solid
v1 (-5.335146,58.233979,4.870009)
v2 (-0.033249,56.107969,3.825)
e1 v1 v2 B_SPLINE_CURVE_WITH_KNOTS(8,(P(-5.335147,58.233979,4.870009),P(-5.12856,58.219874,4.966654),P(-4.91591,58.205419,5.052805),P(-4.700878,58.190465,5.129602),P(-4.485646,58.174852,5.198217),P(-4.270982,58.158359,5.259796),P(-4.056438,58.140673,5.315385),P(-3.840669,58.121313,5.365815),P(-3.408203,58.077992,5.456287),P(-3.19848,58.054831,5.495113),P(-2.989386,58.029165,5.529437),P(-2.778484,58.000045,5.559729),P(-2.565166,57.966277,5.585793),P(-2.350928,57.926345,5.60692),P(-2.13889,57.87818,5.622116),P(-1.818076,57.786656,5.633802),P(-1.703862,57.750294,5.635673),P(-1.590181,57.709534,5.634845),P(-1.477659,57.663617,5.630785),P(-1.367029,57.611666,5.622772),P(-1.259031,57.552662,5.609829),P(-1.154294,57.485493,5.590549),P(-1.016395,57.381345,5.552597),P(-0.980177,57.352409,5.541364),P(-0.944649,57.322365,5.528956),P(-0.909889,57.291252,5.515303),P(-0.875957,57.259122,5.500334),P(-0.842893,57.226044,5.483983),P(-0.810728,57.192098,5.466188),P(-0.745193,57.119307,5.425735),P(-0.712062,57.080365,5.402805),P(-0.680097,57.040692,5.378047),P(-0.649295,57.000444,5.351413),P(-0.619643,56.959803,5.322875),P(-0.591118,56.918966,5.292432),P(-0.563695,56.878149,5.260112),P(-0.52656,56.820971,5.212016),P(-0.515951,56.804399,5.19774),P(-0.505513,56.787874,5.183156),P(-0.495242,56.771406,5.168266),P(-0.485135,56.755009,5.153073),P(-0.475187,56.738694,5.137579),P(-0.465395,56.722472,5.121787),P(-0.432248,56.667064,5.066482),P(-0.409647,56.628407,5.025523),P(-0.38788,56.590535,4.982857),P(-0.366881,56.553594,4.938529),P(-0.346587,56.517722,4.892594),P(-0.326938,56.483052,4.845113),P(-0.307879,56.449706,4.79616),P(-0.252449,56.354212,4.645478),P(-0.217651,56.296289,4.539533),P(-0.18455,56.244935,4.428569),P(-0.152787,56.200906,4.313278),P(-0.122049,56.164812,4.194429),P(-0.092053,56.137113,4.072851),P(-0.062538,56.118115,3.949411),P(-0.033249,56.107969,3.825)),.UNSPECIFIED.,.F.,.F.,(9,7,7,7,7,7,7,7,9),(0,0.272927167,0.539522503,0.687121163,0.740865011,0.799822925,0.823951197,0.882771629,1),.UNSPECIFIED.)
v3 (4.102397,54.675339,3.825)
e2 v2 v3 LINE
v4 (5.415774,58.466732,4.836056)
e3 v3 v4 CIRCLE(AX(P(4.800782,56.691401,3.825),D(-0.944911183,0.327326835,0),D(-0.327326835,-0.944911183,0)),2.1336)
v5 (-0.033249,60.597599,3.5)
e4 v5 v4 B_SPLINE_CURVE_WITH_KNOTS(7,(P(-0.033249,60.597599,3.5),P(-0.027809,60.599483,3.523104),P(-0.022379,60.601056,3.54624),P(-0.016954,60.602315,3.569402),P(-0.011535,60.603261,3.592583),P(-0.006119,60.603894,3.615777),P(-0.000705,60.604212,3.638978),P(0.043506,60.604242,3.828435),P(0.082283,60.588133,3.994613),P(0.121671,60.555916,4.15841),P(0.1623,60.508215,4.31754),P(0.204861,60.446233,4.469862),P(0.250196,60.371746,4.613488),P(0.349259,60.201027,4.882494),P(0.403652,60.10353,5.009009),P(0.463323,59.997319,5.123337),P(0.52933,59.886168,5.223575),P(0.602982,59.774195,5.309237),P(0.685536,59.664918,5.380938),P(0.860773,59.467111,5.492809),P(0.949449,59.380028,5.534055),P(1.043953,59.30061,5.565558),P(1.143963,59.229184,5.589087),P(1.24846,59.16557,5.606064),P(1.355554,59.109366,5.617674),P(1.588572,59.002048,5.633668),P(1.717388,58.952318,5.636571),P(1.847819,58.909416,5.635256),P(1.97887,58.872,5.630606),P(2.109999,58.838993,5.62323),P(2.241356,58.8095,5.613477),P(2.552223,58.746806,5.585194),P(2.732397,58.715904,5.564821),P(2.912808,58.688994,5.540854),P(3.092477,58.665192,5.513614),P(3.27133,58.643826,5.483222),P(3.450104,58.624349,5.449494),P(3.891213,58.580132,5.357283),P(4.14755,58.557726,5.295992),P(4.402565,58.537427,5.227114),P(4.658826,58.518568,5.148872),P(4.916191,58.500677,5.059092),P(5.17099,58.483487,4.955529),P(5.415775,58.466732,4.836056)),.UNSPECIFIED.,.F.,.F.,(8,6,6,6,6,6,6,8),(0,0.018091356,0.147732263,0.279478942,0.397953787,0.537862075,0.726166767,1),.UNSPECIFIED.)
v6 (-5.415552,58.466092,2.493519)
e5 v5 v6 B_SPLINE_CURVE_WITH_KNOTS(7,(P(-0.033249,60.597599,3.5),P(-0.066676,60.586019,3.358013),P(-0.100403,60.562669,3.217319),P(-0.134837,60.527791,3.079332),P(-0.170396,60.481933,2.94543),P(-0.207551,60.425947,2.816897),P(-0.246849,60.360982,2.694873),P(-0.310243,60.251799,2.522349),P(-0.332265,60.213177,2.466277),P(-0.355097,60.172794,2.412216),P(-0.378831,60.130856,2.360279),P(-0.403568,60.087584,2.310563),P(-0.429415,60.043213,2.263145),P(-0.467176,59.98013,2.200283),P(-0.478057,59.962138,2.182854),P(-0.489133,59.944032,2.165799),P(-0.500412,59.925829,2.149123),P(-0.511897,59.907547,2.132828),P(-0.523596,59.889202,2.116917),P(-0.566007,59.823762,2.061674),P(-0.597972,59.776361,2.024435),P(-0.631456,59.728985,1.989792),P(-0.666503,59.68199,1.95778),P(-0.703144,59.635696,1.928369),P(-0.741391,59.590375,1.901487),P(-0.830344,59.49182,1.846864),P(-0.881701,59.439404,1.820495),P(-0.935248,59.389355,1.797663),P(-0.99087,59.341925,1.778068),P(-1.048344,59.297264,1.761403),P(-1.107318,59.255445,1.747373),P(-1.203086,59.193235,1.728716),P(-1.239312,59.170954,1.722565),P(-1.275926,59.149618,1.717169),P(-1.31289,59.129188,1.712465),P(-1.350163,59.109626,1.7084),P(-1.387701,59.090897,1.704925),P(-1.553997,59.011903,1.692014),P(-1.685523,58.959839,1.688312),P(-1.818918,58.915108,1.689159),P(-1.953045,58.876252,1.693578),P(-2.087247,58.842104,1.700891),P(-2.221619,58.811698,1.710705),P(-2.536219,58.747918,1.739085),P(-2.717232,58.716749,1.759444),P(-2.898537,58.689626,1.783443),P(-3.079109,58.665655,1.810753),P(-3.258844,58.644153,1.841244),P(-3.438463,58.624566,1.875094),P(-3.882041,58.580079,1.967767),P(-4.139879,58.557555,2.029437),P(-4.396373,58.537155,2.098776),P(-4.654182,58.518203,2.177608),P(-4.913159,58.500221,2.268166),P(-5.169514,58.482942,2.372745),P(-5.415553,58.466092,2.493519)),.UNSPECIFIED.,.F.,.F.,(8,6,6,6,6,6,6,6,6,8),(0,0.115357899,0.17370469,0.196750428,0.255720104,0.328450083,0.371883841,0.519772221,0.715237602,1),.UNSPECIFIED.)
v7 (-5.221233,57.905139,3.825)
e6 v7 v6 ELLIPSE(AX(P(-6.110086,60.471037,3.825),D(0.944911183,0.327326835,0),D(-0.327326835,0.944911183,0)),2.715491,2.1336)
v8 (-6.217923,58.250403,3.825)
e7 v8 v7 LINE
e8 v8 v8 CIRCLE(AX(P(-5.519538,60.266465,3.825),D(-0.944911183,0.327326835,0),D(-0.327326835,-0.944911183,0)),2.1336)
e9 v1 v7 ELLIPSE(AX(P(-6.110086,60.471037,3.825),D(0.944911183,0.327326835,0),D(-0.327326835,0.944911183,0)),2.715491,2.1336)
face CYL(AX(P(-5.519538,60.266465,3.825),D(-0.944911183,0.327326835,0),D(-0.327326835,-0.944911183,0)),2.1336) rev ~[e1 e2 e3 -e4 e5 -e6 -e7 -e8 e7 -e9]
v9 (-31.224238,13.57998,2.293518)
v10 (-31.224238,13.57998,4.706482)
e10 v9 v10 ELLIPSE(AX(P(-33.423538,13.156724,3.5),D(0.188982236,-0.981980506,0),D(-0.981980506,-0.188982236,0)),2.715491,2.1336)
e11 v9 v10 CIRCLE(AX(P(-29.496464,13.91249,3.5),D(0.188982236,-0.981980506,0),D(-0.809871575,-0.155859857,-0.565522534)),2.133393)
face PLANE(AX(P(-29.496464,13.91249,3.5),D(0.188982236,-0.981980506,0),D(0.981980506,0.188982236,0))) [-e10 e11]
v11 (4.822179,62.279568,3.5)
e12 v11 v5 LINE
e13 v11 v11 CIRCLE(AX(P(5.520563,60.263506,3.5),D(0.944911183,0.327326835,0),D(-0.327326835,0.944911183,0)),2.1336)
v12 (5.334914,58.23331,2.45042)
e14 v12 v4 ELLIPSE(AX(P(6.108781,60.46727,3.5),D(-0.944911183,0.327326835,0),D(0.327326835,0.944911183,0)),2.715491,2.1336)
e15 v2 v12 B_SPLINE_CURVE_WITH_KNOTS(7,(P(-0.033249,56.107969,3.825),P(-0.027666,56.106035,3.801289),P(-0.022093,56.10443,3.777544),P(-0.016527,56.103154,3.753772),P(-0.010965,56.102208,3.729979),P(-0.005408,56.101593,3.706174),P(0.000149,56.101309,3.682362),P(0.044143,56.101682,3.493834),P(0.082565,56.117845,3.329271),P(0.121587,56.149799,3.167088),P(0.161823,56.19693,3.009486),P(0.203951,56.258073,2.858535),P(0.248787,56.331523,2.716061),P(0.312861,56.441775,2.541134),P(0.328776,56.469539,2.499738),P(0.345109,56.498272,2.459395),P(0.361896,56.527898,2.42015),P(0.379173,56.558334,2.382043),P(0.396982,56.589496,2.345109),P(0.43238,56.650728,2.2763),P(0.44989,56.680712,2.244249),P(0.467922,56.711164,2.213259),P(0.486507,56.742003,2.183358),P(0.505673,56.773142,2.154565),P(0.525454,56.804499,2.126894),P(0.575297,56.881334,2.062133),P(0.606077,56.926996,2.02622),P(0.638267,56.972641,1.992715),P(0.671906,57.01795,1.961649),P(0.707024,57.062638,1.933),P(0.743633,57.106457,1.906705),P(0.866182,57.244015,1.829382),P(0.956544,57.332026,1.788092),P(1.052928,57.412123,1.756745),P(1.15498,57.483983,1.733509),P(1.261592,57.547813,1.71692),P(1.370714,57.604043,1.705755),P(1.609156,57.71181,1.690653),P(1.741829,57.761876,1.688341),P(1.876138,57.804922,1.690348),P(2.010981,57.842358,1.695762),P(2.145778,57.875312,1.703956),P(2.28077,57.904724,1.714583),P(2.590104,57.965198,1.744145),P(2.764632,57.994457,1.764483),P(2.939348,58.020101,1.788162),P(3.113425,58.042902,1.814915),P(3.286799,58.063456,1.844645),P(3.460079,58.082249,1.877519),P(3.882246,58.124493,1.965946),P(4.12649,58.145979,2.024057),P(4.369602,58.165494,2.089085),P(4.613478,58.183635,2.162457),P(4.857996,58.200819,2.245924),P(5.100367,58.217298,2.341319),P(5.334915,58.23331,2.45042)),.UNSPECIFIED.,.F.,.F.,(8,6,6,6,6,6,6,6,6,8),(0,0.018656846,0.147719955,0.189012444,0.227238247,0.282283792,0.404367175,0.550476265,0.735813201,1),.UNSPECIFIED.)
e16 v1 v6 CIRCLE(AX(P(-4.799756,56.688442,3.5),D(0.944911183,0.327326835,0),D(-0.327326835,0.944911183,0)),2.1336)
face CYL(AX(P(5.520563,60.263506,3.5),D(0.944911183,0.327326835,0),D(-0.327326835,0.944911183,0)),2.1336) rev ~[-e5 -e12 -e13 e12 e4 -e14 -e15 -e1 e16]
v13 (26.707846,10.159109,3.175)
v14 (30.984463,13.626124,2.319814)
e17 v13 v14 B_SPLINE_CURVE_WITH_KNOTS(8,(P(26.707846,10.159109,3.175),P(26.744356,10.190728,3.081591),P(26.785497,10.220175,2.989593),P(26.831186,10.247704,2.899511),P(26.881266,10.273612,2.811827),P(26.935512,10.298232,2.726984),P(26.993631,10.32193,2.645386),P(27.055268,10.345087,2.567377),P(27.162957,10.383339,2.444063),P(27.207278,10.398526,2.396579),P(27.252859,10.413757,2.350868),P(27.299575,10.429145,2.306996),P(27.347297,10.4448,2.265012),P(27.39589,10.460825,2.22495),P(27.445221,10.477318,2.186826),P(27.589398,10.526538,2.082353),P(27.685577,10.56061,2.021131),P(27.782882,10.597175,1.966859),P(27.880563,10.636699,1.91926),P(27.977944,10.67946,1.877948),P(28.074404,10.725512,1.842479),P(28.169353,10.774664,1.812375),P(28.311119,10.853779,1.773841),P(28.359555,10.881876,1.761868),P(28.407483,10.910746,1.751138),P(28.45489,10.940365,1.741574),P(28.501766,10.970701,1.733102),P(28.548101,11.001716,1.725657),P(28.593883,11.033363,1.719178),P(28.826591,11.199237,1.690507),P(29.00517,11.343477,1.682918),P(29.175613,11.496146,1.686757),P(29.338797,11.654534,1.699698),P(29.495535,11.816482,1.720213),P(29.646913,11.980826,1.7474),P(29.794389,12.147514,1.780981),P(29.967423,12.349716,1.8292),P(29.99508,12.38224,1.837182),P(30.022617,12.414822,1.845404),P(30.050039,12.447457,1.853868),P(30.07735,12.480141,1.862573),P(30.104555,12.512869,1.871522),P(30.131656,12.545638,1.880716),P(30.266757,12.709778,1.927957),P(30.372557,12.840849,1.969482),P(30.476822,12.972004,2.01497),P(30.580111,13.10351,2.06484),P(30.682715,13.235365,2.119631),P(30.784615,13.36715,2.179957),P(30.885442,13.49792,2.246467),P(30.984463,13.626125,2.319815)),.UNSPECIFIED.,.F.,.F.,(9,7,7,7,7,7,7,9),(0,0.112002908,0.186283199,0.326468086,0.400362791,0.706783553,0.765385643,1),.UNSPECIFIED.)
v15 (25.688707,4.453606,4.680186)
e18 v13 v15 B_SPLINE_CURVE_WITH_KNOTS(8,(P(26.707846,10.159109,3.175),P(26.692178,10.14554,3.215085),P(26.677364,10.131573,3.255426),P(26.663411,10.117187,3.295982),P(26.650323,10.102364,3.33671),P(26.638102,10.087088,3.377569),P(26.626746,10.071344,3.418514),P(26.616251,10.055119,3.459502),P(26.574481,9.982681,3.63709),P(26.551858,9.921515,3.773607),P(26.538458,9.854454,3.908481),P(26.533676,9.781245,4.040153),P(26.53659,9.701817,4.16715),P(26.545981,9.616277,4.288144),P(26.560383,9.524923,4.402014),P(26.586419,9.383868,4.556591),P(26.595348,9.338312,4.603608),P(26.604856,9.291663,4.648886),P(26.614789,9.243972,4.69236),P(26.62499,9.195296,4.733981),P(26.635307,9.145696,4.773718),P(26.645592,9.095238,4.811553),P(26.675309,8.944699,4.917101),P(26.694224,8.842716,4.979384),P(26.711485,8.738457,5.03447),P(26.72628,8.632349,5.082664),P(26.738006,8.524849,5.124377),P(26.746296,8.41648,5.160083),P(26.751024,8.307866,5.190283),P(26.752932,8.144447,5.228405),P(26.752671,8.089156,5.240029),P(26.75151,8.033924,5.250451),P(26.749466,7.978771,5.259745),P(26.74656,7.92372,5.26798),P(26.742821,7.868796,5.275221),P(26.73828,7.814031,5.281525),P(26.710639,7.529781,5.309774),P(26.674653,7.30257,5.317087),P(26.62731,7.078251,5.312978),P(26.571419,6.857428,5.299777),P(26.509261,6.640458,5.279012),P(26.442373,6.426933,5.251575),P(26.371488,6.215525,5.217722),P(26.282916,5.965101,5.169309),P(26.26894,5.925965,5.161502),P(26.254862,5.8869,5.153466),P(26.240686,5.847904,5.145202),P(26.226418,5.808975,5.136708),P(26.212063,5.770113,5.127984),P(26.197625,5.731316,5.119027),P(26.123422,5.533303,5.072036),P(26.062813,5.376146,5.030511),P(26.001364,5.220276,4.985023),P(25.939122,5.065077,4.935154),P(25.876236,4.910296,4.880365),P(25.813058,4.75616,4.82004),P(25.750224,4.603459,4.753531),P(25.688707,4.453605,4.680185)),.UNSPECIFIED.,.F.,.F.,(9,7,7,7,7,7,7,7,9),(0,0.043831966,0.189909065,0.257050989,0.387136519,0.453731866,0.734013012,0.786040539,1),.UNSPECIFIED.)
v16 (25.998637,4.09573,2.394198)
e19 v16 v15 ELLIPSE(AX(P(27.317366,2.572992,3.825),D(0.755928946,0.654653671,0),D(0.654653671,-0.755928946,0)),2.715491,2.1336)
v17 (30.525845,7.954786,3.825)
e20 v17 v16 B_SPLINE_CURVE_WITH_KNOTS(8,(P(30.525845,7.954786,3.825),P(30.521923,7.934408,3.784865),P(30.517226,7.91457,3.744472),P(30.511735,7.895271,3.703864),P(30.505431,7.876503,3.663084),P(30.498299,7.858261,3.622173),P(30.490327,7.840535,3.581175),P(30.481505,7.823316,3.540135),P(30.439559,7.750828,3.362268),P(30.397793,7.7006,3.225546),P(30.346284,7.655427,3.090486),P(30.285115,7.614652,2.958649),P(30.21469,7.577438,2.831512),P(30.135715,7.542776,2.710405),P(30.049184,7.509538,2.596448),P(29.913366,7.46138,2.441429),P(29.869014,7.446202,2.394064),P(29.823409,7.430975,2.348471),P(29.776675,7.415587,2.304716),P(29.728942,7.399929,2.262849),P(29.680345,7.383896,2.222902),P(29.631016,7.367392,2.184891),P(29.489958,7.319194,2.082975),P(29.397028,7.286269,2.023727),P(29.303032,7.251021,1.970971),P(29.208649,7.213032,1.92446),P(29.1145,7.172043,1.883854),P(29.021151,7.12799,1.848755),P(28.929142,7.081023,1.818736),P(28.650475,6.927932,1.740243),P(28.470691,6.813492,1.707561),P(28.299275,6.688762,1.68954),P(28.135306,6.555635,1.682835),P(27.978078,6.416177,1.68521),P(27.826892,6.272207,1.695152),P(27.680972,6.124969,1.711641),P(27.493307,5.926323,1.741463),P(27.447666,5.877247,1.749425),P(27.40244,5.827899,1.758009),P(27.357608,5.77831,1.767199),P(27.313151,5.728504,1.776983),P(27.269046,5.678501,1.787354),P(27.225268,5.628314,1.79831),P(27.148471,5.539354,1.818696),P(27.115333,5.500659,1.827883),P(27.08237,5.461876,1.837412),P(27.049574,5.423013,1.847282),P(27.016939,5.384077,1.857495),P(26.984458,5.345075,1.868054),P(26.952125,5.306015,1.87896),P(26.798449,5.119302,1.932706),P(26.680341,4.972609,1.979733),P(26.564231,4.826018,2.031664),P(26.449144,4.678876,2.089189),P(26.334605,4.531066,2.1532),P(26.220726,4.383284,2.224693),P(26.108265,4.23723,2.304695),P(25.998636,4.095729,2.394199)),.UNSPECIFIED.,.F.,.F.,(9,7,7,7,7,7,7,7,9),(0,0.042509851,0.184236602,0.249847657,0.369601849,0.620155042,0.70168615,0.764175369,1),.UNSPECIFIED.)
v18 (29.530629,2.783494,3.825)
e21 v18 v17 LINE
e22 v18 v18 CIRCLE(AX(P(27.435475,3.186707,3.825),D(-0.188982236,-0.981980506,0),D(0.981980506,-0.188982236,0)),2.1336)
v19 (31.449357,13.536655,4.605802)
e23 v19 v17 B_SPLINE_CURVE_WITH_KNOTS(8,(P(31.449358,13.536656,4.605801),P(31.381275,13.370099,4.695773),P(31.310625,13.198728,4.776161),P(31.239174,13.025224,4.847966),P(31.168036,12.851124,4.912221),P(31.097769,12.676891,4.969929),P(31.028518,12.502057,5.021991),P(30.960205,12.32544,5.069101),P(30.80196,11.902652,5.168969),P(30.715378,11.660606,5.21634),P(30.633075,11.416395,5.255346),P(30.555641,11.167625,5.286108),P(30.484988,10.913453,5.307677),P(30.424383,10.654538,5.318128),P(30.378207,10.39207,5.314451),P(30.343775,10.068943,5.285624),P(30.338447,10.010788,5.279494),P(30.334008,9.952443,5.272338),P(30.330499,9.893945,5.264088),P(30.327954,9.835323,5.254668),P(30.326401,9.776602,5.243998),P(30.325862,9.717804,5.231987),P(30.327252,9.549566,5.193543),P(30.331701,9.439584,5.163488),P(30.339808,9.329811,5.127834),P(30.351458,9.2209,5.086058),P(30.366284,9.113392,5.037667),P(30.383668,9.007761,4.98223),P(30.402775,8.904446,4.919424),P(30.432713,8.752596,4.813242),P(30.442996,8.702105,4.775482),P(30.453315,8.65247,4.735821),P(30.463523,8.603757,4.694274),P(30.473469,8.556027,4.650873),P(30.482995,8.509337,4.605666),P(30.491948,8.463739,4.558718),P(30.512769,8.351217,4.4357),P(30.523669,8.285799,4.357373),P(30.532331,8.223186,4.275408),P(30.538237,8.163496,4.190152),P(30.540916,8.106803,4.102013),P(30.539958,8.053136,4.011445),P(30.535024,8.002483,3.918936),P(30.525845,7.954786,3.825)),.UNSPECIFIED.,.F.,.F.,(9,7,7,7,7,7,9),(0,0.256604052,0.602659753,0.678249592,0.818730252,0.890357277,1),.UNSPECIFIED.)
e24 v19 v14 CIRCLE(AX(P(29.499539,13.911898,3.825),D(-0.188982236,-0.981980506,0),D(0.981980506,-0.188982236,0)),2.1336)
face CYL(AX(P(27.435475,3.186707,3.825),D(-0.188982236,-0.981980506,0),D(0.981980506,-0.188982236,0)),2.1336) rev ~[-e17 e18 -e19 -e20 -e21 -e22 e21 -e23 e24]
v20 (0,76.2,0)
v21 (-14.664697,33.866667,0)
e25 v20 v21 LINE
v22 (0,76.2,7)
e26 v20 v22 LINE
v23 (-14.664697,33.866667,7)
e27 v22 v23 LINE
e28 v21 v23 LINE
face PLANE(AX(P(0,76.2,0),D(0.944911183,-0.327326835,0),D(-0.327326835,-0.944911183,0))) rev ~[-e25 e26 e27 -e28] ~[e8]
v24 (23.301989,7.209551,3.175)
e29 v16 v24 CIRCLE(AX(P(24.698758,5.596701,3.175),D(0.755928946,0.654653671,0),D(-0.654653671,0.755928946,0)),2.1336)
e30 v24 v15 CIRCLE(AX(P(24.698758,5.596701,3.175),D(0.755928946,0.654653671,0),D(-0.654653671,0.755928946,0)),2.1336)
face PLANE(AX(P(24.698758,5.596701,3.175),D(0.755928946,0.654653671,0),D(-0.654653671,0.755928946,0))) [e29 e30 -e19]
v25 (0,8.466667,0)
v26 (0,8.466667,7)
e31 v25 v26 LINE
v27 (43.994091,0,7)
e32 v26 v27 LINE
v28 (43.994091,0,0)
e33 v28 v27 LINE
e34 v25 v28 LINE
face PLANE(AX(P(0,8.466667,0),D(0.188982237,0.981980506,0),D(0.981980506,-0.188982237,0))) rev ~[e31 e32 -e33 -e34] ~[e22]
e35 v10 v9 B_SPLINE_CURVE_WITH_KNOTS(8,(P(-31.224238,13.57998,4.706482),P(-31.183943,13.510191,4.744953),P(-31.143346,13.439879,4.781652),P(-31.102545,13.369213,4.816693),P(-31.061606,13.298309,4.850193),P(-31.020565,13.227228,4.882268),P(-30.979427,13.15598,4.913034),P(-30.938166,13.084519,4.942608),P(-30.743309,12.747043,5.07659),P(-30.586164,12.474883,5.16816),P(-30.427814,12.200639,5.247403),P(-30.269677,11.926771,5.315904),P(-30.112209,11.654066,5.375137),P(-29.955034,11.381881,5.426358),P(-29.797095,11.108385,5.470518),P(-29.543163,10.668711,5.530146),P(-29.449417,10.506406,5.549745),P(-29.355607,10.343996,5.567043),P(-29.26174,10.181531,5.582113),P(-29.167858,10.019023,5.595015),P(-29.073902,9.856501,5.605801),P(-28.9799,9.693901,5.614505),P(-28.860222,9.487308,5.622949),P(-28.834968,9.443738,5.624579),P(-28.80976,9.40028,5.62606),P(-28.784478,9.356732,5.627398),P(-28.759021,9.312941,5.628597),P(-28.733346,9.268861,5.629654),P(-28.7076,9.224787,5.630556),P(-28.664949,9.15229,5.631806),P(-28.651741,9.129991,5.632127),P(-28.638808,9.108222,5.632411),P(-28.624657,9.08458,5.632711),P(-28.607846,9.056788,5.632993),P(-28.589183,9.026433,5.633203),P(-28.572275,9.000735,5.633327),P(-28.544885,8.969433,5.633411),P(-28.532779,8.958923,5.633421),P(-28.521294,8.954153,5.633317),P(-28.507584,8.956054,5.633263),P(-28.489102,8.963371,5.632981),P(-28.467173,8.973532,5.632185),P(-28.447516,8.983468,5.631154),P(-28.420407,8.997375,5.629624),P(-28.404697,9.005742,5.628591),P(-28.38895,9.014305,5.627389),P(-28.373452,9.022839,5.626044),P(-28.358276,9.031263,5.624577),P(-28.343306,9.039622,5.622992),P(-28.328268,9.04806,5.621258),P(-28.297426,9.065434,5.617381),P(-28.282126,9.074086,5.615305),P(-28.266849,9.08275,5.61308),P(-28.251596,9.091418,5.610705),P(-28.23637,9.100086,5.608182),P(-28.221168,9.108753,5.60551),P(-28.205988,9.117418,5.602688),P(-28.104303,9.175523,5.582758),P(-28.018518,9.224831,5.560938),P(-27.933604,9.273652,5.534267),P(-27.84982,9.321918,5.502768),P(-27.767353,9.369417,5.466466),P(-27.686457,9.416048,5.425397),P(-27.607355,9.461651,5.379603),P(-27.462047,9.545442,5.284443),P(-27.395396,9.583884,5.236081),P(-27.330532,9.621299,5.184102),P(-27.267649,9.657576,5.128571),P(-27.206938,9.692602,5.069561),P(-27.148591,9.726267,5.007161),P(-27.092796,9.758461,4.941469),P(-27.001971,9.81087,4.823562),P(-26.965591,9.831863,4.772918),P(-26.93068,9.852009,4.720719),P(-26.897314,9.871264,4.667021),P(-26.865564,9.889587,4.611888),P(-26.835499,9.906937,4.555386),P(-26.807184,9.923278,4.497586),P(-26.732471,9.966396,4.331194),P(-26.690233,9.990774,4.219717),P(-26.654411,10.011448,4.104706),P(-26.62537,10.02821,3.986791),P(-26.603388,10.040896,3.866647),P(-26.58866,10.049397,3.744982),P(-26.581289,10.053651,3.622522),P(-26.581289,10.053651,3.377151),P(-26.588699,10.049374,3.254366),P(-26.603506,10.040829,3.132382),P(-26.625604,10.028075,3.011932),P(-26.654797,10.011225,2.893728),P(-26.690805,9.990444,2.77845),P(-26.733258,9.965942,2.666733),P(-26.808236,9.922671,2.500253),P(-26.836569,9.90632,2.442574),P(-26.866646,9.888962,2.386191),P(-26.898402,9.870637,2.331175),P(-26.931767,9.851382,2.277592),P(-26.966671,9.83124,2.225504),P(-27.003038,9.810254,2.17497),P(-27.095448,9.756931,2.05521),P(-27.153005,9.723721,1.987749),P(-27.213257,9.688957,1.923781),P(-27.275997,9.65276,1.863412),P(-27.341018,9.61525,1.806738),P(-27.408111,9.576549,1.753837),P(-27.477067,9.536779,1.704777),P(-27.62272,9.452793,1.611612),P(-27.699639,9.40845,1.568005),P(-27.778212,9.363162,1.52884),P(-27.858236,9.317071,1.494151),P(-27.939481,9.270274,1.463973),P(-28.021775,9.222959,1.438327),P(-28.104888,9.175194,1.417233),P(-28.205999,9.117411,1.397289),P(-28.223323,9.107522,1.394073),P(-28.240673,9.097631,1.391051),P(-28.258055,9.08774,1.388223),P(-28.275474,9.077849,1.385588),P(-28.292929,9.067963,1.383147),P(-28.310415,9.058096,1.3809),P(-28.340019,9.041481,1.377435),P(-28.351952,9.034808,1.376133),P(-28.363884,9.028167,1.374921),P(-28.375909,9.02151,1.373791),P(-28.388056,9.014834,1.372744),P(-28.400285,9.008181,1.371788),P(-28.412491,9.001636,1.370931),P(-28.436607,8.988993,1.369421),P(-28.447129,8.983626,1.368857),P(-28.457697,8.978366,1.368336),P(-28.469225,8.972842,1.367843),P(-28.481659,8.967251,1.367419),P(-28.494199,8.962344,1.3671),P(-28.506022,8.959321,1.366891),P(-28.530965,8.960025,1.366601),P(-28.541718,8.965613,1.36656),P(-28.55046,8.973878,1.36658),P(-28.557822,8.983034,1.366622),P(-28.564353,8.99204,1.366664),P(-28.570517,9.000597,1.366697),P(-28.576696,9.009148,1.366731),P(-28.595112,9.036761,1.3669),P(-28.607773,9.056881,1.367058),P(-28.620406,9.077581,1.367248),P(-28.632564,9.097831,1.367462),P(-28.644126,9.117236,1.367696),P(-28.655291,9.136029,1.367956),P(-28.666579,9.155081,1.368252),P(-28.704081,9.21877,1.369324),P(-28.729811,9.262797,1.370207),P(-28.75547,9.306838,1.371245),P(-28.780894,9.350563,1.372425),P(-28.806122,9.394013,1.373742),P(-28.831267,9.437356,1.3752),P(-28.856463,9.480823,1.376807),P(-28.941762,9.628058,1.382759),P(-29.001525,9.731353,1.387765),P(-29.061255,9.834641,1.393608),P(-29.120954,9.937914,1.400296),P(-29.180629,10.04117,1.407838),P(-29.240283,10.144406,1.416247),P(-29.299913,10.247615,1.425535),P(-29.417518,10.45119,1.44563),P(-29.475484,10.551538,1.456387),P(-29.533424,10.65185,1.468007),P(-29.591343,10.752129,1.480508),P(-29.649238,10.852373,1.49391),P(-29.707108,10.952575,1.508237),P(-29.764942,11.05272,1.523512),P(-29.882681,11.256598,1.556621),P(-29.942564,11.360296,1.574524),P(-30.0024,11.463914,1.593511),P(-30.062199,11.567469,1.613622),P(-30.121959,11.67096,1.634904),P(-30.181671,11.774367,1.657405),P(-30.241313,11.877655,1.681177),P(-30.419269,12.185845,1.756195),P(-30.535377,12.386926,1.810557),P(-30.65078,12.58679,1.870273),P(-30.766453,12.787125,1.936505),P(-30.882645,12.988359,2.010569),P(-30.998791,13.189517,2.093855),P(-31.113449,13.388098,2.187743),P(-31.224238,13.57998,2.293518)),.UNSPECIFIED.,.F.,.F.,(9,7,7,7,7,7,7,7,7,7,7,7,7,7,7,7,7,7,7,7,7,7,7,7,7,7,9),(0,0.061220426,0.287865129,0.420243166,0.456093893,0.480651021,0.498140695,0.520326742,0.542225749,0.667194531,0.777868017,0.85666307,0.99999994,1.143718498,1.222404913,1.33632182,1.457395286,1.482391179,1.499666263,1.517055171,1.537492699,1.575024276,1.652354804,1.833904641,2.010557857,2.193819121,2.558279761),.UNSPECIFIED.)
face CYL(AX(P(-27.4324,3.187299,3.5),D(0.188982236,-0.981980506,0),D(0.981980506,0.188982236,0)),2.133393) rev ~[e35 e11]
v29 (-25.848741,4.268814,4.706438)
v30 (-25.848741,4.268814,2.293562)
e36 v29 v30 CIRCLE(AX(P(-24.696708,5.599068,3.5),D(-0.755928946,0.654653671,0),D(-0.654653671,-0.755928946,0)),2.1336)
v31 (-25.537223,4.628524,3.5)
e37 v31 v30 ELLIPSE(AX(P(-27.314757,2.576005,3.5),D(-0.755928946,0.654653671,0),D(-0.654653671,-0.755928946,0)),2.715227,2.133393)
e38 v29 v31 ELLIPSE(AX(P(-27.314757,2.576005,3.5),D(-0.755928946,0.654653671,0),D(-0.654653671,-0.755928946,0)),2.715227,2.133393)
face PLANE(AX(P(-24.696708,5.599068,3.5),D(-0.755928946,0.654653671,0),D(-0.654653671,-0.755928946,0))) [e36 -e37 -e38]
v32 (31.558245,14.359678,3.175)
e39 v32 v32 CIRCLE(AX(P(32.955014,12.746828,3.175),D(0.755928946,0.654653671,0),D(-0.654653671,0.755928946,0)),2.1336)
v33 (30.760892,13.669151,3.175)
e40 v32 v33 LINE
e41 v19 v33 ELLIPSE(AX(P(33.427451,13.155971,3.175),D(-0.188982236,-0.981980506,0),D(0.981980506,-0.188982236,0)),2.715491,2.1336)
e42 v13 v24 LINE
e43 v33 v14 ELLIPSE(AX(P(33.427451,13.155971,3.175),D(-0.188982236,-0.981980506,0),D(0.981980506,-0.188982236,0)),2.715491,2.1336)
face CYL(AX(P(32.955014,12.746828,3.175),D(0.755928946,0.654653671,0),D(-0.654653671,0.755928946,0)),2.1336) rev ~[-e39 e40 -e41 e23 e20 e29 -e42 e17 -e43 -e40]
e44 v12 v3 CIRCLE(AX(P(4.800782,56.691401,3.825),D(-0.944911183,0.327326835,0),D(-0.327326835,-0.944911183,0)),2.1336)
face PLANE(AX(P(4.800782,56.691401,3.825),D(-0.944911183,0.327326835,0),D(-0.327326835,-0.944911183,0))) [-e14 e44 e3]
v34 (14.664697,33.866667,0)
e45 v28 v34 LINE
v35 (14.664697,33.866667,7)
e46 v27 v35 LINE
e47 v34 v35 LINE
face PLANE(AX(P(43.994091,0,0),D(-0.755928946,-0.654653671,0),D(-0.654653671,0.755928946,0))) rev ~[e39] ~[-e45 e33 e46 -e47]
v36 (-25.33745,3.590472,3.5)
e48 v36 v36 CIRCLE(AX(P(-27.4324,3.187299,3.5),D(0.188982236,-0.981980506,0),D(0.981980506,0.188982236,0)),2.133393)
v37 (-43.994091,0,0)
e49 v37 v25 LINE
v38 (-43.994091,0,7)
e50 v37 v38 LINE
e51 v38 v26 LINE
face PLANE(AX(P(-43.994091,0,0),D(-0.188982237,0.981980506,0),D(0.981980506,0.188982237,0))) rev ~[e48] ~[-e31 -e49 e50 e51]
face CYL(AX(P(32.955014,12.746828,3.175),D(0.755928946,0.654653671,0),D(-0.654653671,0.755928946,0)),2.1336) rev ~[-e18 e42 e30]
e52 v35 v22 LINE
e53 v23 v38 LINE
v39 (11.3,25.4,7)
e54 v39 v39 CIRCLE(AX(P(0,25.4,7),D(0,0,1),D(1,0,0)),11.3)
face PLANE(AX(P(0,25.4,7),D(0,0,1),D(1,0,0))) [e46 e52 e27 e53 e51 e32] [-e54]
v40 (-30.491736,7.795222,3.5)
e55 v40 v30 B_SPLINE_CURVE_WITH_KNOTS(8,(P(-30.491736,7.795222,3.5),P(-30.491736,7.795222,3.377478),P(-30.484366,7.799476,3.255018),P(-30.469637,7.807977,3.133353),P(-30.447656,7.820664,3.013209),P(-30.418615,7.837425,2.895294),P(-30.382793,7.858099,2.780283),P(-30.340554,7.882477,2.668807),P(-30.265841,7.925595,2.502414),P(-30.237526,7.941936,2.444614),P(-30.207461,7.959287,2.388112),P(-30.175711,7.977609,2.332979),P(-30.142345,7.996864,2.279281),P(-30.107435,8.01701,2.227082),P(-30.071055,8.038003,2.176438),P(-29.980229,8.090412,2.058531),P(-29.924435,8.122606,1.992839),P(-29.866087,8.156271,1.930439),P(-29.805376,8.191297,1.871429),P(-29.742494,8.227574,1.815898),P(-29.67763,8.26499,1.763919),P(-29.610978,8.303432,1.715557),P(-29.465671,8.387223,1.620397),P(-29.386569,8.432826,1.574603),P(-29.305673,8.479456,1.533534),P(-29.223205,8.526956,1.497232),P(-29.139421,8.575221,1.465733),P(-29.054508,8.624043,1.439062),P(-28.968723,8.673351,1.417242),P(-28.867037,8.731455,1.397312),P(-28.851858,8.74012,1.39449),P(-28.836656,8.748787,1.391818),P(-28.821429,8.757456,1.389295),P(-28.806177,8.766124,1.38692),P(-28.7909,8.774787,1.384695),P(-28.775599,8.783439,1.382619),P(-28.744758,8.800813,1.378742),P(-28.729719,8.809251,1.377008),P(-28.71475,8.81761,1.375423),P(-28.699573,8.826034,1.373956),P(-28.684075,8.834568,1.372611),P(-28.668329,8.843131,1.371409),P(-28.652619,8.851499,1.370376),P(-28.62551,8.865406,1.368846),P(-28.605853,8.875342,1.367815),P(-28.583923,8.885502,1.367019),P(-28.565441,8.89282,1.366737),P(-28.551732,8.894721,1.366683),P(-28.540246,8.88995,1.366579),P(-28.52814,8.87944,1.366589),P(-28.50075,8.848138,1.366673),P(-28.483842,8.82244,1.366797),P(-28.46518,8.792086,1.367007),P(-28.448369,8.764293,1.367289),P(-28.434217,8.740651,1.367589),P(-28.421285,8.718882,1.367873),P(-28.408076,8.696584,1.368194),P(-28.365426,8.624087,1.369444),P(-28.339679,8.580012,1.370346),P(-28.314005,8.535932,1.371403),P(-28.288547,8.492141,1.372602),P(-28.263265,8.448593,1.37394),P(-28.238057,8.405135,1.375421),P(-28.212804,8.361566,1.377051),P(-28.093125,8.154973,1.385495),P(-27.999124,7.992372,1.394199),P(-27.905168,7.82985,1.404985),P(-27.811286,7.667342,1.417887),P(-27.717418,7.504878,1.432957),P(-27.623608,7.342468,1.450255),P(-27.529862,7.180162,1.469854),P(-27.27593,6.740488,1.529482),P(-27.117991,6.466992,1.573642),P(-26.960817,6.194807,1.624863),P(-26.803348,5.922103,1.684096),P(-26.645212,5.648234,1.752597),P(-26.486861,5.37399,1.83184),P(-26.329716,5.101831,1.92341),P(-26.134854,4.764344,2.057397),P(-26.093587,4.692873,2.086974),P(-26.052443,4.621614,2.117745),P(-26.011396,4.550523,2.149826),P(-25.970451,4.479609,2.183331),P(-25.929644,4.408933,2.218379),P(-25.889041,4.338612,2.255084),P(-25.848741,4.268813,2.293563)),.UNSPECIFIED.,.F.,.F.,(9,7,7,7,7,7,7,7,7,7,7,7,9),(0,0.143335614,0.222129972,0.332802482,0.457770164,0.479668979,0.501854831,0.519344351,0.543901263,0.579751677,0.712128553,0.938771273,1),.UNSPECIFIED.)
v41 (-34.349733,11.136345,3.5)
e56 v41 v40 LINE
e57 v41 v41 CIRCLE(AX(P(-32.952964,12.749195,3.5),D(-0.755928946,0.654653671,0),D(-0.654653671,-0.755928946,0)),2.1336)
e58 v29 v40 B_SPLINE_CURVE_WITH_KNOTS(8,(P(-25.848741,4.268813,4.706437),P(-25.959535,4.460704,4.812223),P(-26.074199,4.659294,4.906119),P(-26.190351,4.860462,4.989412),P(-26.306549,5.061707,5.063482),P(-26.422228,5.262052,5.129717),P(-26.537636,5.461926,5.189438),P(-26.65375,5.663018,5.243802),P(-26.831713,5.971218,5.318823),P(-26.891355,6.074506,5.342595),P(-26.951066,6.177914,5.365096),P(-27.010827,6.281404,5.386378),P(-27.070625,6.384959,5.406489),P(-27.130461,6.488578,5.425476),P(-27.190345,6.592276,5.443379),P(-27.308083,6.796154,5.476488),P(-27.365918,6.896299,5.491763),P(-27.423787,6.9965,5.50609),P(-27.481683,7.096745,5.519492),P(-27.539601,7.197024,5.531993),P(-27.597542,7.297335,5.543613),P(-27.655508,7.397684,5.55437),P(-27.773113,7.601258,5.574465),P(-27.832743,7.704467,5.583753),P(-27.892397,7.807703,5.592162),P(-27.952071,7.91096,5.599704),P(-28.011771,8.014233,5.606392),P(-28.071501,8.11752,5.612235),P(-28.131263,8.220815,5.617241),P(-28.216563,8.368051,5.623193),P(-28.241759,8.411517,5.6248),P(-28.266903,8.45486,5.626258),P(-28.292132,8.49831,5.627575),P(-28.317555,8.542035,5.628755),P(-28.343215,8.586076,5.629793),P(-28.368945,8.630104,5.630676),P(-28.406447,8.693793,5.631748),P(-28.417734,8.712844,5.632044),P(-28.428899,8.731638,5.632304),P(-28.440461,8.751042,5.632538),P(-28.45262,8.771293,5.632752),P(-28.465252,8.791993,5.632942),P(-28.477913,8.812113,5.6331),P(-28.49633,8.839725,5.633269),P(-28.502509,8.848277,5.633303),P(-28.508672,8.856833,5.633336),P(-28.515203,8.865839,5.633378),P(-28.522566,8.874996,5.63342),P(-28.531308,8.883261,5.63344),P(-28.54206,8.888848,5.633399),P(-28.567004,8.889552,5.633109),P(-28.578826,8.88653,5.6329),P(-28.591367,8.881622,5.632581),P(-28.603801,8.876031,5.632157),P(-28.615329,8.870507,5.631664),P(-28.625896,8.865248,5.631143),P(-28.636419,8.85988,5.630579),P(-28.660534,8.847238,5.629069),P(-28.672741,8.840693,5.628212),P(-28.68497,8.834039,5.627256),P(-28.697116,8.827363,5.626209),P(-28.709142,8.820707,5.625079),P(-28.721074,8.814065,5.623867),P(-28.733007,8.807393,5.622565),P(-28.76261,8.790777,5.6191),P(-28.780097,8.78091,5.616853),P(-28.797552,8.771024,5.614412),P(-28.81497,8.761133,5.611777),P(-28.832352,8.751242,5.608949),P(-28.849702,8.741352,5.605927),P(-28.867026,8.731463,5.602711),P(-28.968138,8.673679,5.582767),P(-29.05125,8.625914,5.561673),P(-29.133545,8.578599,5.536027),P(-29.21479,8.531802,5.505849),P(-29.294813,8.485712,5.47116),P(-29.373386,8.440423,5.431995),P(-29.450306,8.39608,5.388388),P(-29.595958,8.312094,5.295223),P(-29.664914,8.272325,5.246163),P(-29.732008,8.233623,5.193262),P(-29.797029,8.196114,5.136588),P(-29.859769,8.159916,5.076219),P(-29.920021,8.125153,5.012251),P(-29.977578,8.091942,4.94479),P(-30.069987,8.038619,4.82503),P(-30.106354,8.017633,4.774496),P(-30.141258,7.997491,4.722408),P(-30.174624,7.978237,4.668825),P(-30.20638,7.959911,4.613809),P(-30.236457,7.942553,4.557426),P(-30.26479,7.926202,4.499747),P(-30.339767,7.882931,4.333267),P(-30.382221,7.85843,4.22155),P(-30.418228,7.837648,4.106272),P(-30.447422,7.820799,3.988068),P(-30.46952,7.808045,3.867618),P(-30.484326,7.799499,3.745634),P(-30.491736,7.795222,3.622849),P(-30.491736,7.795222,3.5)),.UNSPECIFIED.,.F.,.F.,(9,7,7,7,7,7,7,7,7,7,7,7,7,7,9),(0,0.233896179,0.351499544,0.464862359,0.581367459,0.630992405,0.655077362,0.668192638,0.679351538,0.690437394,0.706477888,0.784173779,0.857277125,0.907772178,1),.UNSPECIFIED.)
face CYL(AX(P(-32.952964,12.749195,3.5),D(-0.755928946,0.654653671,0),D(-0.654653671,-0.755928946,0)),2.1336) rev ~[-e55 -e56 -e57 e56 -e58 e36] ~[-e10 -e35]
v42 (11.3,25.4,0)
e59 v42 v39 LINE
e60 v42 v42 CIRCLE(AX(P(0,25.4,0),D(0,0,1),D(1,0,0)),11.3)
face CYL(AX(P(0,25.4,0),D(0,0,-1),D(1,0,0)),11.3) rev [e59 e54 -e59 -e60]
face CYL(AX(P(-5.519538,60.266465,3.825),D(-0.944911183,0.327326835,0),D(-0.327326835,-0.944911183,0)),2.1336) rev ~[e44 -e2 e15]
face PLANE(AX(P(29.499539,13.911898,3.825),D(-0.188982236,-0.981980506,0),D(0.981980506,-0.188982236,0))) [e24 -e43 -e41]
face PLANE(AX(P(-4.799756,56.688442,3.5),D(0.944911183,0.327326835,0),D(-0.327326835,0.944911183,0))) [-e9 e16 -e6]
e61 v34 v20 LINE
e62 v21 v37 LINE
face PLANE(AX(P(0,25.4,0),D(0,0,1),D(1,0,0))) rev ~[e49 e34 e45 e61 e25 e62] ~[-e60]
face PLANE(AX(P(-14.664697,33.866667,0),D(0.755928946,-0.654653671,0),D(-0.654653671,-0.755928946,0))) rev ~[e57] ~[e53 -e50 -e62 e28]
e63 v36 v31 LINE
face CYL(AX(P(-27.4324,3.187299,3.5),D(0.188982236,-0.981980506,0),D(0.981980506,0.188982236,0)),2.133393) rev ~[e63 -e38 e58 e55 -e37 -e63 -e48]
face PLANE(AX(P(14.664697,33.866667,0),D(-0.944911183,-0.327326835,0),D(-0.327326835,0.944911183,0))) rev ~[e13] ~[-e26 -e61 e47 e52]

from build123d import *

# Parameters (mm, degrees)
F0_R          = 11.2999999997
F1_DEPTH      = 7.0000000005
F2_R          = 2.1333927031
F3_DEPTH      = 10.922
F3_DEPTH_BACK = 25.4
F4_R          = 2.1336
F5_DEPTH      = 10.922
F6_R          = 2.1336
F7_DEPTH      = 10.922
F8_R          = 2.1336
F9_DEPTH      = 10.922
F10_R         = 2.1336
F11_DEPTH     = 10.922
F12_R         = 2.1336
F13_DEPTH     = 10.922


with BuildPart() as f1:
    # F0 (on Top) → F1 (new body)
    with BuildSketch(Plane.XY):
        Polygon((14.6646968374, 33.8666666667), (0, 76.2), (-14.6646968374, 33.8666666667), (-43.9940905122, 0), (0, 8.4666666667), (43.9940905122, 0), align=None)
        with Locations((0, 25.4)):
            Circle(F0_R, mode=Mode.SUBTRACT)
    extrude(amount=F1_DEPTH)

    # F2 (on face) → F3 (cut, two sides)
    with BuildSketch(Plane(origin=(-1.5712175183, 8.1642857143, 0), x_dir=(0.9819805061, 0.1889822365, 0), z_dir=(0.1889822365, -0.9819805061, 0))) as f3_sk:
        with Locations((-26.335739265, 3.5000000002)):
            Circle(F2_R)
    extrude(amount=-F3_DEPTH, mode=Mode.SUBTRACT)
    extrude(f3_sk.sketch, amount=F3_DEPTH_BACK, mode=Mode.SUBTRACT)

    # F4 (on face) → F5 (cut)
    with BuildSketch(Plane(origin=(-25.1394802927, 21.7714285714, 0), x_dir=(-0.6546536707, -0.755928946, 0), z_dir=(-0.755928946, 0.6546536707, 0))):
        with Locations((11.9352928433, 3.5000000002)):
            Circle(F4_R)
    extrude(amount=-F5_DEPTH, mode=Mode.SUBTRACT)

    # F6 (on face) → F7 (cut)
    with BuildSketch(Plane(origin=(23.5682627744, 8.1642857143, 0), x_dir=(-0.3273268354, 0.9449111825, 0), z_dir=(0.9449111825, 0.3273268354, 0))):
        with Locations((55.1366321083, 3.5000000002)):
            Circle(F6_R)
    extrude(amount=-F7_DEPTH, mode=Mode.SUBTRACT)

    # F8 (on face) → F9 (cut)
    with BuildSketch(Plane(origin=(-23.5682627744, 8.1642857143, 0), x_dir=(-0.3273268354, -0.9449111825, 0), z_dir=(-0.9449111825, 0.3273268354, 0))):
        with Locations((-55.1397637729, 3.8250000005)):
            Circle(F8_R)
    extrude(amount=-F9_DEPTH, mode=Mode.SUBTRACT)

    # F10 (on face) → F11 (cut)
    with BuildSketch(Plane(origin=(25.1394802927, 21.7714285714, 0), x_dir=(-0.6546536707, 0.755928946, 0), z_dir=(0.755928946, 0.6546536707, 0))):
        with Locations((-11.938424508, 3.175)):
            Circle(F10_R)
    extrude(amount=-F11_DEPTH, mode=Mode.SUBTRACT)

    # F12 (on face) → F13 (cut)
    with BuildSketch(Plane(origin=(1.5712175183, 8.1642857143, 0), x_dir=(0.9819805061, -0.1889822365, 0), z_dir=(-0.1889822365, -0.9819805061, 0))):
        with Locations((26.3388709296, 3.8250000005)):
            Circle(F12_R)
    extrude(amount=-F13_DEPTH, mode=Mode.SUBTRACT)


solid = f1.part
